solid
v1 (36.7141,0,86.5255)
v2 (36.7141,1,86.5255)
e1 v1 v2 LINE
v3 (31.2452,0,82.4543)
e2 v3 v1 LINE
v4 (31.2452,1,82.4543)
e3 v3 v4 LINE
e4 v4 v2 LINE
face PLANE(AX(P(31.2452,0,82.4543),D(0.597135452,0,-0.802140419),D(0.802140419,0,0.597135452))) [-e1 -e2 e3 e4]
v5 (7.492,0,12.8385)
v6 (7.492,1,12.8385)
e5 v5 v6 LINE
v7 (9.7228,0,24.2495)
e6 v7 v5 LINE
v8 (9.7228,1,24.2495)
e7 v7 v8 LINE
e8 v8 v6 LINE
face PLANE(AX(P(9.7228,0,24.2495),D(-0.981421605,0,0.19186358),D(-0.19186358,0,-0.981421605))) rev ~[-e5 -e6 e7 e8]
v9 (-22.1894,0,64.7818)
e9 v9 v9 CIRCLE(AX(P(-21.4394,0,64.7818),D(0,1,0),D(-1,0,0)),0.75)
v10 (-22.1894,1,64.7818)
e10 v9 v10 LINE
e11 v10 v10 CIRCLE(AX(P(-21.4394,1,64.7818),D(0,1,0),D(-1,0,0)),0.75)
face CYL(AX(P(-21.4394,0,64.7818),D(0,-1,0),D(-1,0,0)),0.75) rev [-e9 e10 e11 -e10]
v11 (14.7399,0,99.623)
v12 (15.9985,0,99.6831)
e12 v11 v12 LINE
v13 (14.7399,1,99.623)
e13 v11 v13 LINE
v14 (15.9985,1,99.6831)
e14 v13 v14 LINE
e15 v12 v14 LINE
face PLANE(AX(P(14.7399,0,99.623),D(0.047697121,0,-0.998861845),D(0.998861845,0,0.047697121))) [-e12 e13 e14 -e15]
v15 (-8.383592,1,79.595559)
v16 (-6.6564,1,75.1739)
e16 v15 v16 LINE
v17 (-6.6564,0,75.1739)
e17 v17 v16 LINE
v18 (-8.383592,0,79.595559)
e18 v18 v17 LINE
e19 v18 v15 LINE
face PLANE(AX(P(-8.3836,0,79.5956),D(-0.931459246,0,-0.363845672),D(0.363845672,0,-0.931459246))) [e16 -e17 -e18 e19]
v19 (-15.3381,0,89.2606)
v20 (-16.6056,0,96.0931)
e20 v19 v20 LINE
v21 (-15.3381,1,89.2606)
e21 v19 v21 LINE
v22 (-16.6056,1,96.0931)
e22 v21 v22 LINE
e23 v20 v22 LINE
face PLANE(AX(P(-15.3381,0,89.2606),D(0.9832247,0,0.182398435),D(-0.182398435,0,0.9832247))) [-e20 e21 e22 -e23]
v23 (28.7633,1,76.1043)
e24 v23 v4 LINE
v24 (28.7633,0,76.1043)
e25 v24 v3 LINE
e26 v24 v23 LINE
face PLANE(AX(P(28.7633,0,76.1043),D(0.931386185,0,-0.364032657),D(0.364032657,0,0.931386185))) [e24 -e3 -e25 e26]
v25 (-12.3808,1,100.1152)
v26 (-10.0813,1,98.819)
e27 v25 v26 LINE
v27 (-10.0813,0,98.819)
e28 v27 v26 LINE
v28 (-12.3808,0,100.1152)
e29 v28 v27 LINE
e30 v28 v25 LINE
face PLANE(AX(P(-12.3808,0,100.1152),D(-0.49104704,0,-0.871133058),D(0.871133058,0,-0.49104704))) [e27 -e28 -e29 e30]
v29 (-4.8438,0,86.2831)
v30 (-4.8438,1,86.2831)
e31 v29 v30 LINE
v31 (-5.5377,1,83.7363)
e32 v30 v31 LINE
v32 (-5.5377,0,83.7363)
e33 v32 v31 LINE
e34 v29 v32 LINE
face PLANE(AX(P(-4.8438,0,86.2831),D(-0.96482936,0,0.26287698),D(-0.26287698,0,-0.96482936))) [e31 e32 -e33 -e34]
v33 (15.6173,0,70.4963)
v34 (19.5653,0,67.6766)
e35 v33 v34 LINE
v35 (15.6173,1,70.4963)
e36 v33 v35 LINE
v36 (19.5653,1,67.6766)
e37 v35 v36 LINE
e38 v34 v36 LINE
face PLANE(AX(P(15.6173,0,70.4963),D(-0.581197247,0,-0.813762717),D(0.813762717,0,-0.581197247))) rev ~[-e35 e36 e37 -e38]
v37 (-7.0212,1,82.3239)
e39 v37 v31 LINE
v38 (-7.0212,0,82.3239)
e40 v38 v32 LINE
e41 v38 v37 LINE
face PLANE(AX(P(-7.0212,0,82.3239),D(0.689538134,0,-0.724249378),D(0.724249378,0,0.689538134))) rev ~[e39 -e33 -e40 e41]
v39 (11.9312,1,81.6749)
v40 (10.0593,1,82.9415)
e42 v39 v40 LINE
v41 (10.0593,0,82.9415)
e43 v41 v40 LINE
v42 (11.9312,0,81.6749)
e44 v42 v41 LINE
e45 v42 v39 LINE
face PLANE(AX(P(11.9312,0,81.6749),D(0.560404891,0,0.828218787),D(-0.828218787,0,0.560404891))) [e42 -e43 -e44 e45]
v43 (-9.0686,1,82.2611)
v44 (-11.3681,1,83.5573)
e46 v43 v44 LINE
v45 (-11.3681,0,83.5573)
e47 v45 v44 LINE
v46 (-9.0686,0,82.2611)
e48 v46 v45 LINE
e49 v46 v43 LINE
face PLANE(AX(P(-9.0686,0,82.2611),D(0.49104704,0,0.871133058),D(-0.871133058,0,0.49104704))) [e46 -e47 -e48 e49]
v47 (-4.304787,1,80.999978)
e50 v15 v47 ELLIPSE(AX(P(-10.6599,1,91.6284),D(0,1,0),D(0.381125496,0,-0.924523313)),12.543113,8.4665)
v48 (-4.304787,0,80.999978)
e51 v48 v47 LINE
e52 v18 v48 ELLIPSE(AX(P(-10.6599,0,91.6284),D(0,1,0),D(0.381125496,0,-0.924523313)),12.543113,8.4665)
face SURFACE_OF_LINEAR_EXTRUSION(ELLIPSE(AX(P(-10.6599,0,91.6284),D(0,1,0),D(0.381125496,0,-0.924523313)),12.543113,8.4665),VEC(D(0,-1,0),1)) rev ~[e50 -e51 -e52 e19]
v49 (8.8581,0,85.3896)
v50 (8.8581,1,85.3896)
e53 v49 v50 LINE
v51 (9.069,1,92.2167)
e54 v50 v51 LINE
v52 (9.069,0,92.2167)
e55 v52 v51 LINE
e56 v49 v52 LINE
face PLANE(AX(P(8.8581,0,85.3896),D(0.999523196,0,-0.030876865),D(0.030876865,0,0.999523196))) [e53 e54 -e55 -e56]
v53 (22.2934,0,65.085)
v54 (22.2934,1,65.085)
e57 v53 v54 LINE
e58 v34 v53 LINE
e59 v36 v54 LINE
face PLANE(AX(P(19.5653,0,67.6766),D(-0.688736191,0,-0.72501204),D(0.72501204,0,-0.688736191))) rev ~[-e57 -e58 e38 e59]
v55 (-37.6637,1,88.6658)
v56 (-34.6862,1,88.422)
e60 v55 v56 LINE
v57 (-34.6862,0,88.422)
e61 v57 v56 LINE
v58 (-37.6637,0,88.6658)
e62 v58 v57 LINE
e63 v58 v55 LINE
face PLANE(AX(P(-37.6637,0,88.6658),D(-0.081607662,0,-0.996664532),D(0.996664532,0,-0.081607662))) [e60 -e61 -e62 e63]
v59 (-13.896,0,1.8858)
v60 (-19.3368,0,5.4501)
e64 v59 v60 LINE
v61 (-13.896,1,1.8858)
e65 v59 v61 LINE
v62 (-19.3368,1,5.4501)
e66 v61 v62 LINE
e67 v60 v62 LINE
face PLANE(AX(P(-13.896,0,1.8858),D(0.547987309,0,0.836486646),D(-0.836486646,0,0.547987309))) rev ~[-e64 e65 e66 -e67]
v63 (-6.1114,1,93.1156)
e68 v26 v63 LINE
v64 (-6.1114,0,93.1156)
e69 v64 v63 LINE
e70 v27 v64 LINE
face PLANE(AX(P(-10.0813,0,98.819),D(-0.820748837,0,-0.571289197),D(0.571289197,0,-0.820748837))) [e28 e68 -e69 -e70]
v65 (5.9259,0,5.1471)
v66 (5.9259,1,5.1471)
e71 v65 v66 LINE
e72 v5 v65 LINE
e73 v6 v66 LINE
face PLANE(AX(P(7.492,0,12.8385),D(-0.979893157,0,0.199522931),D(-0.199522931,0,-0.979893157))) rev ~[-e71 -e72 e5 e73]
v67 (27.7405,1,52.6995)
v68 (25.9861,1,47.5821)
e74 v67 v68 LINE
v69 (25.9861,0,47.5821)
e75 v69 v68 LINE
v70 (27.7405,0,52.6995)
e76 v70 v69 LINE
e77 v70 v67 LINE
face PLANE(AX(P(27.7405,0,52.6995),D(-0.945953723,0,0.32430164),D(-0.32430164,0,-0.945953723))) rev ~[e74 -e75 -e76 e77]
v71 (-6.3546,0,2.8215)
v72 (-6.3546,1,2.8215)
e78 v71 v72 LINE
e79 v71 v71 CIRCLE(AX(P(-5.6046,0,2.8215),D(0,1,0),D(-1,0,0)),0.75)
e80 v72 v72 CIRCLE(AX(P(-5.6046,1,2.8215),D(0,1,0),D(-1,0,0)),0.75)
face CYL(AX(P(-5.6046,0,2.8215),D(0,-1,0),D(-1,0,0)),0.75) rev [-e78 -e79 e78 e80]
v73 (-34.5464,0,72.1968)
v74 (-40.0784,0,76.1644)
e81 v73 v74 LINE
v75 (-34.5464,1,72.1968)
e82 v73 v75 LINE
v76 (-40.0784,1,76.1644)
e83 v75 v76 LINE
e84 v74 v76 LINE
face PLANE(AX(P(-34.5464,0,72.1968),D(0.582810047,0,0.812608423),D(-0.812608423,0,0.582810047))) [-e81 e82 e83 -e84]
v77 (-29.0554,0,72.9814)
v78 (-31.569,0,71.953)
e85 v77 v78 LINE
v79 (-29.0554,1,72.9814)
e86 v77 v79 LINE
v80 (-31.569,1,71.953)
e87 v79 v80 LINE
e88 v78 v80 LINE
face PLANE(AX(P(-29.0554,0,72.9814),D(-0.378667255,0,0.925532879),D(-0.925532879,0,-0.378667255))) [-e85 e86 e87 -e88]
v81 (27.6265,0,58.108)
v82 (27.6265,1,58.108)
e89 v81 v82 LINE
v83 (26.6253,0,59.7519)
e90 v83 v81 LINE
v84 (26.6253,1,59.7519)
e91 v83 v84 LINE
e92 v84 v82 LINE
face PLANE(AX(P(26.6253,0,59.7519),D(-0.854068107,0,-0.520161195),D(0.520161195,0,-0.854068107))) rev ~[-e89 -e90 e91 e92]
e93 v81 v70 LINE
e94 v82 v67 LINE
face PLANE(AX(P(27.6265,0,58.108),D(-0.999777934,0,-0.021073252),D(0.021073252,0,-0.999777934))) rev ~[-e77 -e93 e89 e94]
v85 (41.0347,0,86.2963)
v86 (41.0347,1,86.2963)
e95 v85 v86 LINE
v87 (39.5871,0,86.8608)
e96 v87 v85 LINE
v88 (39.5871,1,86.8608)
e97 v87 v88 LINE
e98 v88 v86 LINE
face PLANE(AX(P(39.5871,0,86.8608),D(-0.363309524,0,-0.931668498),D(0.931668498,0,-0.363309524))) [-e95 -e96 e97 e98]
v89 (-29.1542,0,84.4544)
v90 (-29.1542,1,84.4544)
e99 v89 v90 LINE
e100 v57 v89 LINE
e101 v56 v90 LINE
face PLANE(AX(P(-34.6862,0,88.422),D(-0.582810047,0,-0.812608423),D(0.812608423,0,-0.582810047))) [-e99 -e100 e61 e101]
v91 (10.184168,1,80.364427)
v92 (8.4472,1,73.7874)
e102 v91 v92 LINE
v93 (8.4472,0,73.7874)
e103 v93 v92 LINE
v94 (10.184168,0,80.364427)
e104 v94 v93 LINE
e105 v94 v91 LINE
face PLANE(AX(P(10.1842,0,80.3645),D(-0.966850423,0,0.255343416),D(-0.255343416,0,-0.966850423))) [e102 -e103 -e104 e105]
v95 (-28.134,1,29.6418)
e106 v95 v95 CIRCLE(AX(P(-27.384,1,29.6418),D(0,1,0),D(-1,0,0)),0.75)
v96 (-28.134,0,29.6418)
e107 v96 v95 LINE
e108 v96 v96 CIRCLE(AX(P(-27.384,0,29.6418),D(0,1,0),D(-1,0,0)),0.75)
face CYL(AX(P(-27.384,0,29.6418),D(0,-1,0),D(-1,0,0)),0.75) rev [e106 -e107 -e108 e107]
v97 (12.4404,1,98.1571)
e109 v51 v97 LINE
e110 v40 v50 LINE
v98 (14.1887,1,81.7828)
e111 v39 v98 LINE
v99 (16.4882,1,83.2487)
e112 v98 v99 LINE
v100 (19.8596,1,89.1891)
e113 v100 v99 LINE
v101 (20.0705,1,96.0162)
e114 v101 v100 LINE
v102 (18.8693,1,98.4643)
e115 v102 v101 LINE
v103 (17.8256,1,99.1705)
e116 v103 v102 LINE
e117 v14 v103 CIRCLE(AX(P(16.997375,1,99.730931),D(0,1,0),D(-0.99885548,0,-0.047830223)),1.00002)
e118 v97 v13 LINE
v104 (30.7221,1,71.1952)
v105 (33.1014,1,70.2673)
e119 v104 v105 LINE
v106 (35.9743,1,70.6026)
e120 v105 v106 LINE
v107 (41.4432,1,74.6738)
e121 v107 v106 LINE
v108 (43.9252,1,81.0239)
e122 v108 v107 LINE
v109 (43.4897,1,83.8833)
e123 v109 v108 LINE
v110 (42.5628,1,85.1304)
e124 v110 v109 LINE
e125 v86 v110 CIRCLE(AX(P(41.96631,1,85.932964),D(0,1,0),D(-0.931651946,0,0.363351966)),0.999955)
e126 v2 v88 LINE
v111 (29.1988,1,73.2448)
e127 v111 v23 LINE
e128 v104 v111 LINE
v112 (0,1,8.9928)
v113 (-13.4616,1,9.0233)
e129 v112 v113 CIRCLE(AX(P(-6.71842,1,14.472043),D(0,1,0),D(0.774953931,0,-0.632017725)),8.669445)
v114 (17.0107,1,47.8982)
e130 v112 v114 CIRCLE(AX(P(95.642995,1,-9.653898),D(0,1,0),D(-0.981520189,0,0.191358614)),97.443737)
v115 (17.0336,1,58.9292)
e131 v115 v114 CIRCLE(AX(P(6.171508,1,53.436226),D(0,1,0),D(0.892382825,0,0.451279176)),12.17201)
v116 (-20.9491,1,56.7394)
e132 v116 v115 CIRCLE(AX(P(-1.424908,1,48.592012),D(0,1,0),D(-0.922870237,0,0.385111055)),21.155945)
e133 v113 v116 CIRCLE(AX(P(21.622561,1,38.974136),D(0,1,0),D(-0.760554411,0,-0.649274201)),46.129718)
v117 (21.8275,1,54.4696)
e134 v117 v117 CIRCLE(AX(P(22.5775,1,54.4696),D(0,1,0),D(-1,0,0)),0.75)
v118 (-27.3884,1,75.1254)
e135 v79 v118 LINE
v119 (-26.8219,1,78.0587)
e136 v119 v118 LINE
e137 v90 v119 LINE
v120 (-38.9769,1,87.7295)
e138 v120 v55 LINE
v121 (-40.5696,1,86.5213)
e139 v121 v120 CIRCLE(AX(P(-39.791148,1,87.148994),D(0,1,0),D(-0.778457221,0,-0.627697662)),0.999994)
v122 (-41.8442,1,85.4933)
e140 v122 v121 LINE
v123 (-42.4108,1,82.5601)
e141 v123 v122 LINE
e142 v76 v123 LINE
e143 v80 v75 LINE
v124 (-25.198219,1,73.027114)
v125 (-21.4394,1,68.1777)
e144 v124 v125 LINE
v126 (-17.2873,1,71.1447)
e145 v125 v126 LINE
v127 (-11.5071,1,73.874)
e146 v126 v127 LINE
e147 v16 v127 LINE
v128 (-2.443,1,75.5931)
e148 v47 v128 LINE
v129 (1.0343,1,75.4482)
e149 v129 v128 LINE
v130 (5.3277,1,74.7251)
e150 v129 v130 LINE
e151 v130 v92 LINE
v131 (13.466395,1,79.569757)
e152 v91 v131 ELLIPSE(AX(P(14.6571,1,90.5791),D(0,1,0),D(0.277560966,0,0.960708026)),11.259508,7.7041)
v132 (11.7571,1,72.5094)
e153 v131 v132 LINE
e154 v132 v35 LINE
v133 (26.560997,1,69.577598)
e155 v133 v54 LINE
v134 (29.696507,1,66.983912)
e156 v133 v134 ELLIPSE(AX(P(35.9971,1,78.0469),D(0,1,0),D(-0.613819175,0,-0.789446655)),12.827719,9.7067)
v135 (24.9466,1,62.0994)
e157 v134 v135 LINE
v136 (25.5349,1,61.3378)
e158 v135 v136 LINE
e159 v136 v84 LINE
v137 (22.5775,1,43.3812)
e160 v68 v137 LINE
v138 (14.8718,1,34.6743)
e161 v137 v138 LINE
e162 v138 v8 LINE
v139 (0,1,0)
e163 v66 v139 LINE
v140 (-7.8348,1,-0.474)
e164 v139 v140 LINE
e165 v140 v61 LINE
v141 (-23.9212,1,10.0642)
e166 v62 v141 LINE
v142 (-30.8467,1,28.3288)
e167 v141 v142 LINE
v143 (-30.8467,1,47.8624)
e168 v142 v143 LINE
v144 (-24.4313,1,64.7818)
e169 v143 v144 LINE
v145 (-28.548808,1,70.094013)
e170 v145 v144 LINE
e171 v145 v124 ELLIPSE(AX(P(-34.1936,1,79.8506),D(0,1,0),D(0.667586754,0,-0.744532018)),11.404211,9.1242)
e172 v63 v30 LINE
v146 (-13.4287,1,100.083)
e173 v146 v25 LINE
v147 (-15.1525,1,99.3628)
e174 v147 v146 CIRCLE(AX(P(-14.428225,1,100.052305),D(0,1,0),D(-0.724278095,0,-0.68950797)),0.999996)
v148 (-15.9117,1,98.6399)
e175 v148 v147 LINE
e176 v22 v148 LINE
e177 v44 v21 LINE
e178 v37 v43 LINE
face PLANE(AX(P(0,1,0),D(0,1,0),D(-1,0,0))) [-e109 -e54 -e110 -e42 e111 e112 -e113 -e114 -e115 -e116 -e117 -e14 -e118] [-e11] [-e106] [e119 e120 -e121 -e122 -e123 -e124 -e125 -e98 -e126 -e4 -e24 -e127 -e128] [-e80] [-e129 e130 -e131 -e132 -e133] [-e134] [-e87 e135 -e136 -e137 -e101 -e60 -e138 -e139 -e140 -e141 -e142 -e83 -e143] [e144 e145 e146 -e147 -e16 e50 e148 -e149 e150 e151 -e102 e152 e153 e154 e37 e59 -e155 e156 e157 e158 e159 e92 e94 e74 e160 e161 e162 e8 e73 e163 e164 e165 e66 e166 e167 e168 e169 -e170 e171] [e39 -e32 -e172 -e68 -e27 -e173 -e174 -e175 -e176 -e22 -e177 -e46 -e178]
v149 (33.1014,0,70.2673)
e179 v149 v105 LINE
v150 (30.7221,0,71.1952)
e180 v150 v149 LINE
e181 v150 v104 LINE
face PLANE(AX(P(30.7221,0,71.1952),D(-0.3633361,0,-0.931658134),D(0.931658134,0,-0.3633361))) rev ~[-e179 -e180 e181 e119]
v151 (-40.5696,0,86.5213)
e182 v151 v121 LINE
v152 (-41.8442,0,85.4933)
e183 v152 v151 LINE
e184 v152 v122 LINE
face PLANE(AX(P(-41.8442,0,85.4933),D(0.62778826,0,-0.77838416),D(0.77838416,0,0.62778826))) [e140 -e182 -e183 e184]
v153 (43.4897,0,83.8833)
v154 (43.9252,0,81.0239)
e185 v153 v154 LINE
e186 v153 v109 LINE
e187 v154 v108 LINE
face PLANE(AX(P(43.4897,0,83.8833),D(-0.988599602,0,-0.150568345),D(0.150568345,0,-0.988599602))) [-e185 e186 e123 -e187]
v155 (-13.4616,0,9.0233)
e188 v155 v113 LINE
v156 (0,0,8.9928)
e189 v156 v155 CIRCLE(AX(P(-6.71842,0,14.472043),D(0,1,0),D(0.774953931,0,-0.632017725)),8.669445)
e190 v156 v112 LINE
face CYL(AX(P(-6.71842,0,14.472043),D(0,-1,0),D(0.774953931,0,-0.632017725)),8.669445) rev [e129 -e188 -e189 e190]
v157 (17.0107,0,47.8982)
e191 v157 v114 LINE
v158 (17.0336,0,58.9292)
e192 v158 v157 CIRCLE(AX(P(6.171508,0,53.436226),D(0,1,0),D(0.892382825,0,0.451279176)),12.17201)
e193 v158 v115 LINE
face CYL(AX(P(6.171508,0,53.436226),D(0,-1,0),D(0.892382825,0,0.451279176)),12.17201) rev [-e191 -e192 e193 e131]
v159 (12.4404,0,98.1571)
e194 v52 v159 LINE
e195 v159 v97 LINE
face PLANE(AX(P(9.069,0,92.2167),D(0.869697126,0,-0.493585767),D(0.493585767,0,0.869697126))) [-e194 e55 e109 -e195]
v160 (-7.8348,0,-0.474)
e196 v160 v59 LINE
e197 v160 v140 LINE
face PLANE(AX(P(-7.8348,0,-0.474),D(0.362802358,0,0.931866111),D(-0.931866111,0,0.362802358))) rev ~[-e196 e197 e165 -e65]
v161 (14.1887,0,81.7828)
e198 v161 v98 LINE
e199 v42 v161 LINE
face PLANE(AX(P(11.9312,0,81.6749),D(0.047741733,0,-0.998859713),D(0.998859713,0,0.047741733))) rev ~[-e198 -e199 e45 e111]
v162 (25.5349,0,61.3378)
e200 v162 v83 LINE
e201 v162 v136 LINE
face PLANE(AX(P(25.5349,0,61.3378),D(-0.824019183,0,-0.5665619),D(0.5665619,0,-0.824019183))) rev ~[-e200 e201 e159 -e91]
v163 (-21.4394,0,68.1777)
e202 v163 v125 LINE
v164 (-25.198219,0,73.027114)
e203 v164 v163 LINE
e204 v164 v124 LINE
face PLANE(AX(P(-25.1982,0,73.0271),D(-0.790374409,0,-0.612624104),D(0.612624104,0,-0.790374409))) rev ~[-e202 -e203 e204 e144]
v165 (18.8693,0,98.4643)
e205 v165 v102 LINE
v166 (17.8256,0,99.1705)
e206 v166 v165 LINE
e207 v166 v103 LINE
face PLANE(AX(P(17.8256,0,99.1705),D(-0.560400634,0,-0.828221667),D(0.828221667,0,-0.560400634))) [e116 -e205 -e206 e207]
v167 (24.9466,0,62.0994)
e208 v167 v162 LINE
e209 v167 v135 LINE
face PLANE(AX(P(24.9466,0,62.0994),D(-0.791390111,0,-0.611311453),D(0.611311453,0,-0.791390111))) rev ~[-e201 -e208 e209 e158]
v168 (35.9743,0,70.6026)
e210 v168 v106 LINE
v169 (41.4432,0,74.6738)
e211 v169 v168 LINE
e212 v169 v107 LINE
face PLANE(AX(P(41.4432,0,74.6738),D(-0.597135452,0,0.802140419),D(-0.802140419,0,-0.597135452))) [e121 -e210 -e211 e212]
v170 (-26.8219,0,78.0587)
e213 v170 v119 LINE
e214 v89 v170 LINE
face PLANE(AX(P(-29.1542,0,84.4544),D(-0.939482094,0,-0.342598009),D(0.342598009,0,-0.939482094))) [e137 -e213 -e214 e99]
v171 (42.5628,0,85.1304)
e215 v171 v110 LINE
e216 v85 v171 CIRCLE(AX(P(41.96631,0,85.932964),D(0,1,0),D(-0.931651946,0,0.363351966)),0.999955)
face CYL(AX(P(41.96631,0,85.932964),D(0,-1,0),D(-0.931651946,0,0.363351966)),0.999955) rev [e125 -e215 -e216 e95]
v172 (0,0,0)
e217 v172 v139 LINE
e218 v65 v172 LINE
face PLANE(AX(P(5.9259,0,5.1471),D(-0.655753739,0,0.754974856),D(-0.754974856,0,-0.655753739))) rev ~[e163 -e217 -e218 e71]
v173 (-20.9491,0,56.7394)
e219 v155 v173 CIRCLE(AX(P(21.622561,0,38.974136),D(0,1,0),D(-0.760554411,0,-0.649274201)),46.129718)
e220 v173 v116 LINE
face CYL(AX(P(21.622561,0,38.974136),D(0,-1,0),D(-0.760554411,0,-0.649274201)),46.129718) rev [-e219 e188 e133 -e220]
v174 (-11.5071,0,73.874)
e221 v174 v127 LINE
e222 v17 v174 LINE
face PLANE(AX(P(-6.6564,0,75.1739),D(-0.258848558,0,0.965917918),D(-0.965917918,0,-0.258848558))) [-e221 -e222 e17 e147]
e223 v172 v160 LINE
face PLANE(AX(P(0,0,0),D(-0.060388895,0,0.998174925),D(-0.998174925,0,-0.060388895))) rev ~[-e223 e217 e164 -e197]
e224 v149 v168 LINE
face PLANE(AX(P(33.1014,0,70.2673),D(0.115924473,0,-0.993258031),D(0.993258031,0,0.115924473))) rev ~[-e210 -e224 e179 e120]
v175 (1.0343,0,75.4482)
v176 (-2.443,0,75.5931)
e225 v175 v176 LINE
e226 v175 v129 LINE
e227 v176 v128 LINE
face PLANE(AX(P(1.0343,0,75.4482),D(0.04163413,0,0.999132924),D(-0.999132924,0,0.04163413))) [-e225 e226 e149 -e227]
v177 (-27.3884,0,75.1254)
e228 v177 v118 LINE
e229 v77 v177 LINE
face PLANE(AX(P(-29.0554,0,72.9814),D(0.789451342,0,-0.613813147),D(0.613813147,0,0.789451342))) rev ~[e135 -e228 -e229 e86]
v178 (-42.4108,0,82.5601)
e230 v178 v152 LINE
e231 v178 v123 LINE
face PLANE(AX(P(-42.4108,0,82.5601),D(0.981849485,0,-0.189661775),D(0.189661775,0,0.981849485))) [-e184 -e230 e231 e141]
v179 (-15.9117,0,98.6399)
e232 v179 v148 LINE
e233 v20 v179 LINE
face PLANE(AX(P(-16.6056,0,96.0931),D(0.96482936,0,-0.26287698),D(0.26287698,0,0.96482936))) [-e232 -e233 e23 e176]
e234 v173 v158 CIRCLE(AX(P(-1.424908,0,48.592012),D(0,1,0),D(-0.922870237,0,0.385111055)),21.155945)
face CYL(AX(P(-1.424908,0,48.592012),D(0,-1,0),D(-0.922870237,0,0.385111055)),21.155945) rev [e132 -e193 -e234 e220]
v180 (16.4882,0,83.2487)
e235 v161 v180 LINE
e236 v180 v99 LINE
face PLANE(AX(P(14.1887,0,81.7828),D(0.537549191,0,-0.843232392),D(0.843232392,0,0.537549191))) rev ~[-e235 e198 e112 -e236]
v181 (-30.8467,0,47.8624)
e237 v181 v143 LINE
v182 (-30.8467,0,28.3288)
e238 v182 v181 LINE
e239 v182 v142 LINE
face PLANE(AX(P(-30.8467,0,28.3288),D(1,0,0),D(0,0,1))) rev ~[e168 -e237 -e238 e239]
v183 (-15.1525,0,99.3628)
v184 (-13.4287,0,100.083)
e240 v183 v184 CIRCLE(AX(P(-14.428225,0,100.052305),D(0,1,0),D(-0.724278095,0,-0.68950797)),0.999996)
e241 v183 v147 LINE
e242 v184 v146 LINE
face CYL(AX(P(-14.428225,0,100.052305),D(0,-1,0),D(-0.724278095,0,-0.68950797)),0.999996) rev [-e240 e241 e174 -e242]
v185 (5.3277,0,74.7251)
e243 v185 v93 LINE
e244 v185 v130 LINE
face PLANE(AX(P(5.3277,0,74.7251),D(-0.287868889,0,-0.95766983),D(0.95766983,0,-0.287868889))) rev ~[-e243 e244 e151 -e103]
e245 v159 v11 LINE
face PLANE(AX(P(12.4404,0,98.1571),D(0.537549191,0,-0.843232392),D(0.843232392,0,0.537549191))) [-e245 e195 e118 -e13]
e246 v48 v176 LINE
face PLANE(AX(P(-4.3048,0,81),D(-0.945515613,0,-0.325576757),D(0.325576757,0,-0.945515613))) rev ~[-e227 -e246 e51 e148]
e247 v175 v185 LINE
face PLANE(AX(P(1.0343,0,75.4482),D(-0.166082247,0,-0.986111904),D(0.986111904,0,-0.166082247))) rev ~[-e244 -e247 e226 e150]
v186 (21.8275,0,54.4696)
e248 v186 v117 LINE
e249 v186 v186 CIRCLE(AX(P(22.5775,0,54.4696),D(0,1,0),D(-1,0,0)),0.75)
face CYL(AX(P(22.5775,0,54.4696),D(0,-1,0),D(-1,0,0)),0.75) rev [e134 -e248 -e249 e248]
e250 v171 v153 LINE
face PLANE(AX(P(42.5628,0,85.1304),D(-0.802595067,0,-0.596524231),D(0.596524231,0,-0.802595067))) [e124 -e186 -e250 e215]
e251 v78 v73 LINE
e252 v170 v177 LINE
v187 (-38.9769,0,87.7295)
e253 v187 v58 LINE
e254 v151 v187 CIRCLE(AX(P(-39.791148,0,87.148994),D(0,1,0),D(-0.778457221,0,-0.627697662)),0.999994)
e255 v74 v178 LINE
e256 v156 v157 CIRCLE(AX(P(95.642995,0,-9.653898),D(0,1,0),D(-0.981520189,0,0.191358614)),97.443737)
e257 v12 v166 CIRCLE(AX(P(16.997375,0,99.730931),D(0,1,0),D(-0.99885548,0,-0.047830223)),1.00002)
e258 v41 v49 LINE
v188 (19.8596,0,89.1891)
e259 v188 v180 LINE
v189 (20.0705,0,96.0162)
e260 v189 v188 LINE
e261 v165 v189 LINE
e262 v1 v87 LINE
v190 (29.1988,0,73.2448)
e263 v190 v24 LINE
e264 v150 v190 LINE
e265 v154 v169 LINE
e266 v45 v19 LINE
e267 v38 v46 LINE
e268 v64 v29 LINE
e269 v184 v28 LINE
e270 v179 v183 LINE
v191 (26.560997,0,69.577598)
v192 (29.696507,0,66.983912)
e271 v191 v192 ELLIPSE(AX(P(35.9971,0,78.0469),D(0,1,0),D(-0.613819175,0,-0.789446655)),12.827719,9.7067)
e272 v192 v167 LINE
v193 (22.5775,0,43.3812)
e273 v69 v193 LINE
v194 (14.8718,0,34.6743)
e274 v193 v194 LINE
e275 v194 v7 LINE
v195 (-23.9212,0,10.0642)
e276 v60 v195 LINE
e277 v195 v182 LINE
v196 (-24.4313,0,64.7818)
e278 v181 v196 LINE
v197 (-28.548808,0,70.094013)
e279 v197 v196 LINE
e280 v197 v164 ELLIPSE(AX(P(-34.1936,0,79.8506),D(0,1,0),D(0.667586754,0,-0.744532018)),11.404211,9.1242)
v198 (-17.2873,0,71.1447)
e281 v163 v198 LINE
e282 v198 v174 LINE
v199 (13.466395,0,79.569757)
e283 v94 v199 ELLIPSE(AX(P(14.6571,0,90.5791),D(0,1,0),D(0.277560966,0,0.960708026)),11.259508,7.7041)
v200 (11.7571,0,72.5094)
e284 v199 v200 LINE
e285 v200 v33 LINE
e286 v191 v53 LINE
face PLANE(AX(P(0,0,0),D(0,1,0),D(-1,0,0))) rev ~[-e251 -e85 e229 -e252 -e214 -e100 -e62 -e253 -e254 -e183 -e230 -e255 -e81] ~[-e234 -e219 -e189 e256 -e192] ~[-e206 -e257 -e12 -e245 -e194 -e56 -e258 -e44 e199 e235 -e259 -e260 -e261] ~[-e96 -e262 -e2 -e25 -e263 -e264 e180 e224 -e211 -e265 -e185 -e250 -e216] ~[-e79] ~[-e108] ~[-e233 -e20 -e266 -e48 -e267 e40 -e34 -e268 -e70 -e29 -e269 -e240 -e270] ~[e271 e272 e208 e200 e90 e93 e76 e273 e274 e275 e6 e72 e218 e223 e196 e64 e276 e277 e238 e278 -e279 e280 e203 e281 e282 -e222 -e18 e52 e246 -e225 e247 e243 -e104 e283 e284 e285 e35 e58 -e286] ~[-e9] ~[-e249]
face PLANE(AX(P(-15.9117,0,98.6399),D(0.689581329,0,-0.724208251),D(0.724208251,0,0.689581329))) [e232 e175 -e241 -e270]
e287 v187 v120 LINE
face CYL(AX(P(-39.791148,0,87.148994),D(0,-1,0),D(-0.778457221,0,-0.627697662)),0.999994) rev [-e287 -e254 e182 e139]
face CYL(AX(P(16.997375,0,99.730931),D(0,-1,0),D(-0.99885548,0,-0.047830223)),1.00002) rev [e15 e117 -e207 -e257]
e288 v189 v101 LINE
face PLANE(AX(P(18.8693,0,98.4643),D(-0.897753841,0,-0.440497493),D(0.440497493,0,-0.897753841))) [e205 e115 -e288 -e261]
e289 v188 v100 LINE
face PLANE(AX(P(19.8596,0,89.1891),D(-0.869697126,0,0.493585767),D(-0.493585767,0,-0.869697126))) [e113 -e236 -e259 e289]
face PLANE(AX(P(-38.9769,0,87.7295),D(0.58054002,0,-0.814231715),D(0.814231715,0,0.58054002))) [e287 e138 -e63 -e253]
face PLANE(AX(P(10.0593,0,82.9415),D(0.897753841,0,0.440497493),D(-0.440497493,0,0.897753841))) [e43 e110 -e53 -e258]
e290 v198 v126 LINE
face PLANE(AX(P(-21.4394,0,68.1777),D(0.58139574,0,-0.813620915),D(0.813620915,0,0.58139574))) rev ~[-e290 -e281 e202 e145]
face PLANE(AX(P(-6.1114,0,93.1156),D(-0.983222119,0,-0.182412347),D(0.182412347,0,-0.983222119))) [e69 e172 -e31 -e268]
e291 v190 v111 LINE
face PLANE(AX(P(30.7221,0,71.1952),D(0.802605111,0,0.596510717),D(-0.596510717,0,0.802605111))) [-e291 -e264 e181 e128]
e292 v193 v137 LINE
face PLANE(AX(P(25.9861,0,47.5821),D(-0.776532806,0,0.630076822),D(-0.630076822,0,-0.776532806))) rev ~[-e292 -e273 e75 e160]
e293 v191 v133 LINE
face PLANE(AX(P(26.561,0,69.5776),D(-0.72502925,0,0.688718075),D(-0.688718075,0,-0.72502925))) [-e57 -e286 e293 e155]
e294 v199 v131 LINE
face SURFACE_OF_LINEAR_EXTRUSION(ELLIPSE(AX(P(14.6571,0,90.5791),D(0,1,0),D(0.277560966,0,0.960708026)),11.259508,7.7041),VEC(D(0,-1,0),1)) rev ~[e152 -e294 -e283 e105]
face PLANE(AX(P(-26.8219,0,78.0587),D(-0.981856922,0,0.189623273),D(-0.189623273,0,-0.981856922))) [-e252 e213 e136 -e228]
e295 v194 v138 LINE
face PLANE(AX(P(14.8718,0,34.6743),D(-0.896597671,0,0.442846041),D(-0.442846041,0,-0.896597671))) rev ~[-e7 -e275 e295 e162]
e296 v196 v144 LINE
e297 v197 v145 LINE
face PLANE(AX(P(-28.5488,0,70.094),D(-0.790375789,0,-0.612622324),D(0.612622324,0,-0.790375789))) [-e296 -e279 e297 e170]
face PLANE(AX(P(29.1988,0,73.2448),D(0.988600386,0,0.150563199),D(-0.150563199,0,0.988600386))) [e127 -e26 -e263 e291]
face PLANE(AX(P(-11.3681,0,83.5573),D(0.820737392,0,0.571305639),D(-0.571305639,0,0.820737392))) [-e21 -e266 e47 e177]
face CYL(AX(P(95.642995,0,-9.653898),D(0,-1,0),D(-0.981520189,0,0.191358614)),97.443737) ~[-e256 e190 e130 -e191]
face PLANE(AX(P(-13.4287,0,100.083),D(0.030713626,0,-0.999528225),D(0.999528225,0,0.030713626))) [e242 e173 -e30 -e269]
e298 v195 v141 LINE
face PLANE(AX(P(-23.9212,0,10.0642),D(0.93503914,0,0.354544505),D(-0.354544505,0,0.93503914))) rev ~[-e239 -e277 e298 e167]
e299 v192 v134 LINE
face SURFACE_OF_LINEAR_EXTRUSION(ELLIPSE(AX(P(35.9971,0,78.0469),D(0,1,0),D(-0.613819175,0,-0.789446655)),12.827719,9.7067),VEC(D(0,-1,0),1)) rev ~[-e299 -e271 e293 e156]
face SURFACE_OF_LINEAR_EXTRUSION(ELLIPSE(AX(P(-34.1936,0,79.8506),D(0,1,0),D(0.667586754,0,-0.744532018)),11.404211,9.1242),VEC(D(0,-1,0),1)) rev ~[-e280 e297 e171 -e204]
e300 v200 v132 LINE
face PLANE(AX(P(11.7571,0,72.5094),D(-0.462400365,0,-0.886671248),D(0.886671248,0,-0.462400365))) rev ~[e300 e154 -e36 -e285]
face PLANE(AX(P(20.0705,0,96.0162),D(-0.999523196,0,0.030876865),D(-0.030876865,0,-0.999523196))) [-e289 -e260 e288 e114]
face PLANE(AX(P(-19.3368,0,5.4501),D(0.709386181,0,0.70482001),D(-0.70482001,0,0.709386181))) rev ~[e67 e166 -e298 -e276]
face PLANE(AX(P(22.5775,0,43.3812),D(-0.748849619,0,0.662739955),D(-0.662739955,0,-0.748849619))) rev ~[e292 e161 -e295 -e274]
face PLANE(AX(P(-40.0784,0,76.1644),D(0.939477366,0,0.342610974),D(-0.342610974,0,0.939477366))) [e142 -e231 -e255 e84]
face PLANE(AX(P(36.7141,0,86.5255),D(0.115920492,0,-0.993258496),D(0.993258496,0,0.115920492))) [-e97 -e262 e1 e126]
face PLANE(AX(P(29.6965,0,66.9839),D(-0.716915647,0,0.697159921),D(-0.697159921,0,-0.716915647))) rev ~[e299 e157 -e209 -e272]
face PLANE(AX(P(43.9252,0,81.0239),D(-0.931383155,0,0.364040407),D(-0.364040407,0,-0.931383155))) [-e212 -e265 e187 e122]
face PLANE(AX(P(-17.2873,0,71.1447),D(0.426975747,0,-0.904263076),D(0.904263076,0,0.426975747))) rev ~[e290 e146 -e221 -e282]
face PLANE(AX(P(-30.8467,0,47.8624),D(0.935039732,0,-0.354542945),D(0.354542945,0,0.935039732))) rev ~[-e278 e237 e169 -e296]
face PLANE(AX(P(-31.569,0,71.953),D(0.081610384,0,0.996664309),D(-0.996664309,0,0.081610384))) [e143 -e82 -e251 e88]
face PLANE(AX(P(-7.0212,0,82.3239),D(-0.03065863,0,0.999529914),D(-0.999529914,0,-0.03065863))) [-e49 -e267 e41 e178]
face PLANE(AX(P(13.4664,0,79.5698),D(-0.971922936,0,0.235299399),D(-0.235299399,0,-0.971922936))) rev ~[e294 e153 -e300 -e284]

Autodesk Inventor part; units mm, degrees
ref_plane "YZ Plane" through (0, 0, 0) normal (1, 0, 0) x (0, 1, 0)
ref_plane "XZ Plane" through (0, 0, 0) normal (0, 1, 0) x (-1, 0, 0)
ref_plane "XY Plane" through (0, 0, 0) normal (0, 0, 1) x (1, 0, 0)
sketch "Sketch1" plane through (0, 0, 0) normal (0, 1, 0) x (-1, 0, 0)
  line L0 (29.0554, 72.9814) -> (31.569, 71.953)
  line L1 (26.8219, 78.0587) -> (27.3884, 75.1254)
  line L2 (-19.8596, 89.1891) -> (-16.4882, 83.2487)
  line L3 (-14.1887, 81.7828) -> (-16.4882, 83.2487)
  line L4 (-11.9312, 81.6749) -> (-14.1887, 81.7828)
  line L5 (-10.0593, 82.9415) -> (-8.8581, 85.3896)
  line L6 (-11.9312, 81.6749) -> (-10.0593, 82.9415)
  line L7 (-8.8581, 85.3896) -> (-9.069, 92.2167)
  line L8 (-41.4432, 74.6738) -> (-35.9743, 70.6026)
  line L9 (-33.1014, 70.2673) -> (-35.9743, 70.6026)
  line L10 (-29.1988, 73.2448) -> (-28.7633, 76.1043)
  line L11 (-30.7221, 71.1952) -> (-33.1014, 70.2673)
  line L12 (-30.7221, 71.1952) -> (-29.1988, 73.2448)
  line L13 (-7.492, 12.8385) -> (-5.9259, 5.1471)
  line L14 (-9.7228, 24.2495) -> (-7.492, 12.8385)
  line L15 (-14.8718, 34.6743) -> (-9.7228, 24.2495)
  arc A0 (0, 8.9928) -> (-17.0107, 47.8982) centre (-95.643, -9.6539) ccw
  line L16 (-22.5775, 43.3812) -> (-14.8718, 34.6743)
  line L17 (31.569, 71.953) -> (34.5464, 72.1968)
  line L18 (29.1542, 84.4544) -> (26.8219, 78.0587)
  line L19 (34.5464, 72.1968) -> (40.0784, 76.1644)
  ellipse E0 centre (34.1936, 79.8506) end of major axis (26.5803, 71.3598) minor radius 9.1242 (28.5488, 70.094) -> (25.1982, 73.0271) ccw
  line L20 (40.0784, 76.1644) -> (42.4108, 82.5601)
  line L21 (34.6862, 88.422) -> (29.1542, 84.4544)
  line L22 (37.6637, 88.6658) -> (34.6862, 88.422)
  line L23 (42.4108, 82.5601) -> (41.8442, 85.4933)
  line L24 (38.9769, 87.7295) -> (37.6637, 88.6658)
  line L25 (41.8442, 85.4933) -> (40.5696, 86.5213)
  line L26 (9.0686, 82.2611) -> (11.3681, 83.5573)
  line L27 (4.8438, 86.2831) -> (5.5377, 83.7363)
  line L28 (12.3808, 100.1152) -> (10.0813, 98.819)
  line L29 (10.0813, 98.819) -> (6.1114, 93.1156)
  line L30 (13.4287, 100.083) -> (12.3808, 100.1152)
  line L31 (15.9117, 98.6399) -> (15.1525, 99.3628)
  line L32 (16.6056, 96.0931) -> (15.9117, 98.6399)
  line L33 (6.1114, 93.1156) -> (4.8438, 86.2831)
  ellipse E1 centre (10.6599, 91.6284) end of major axis (5.8794, 80.032) minor radius 8.4665 (8.3836, 79.5956) -> (4.3048, 81) ccw
  line L34 (15.3381, 89.2606) -> (16.6056, 96.0931)
  line L35 (11.3681, 83.5573) -> (15.3381, 89.2606)
  line L36 (6.6564, 75.1739) -> (11.5071, 73.874)
  line L37 (17.2873, 71.1447) -> (11.5071, 73.874)
  line L38 (21.4394, 68.1777) -> (17.2873, 71.1447)
  line L39 (21.4394, 68.1777) -> (17.2873, 71.1447)
  line L40 (25.1982, 73.0271) -> (21.4394, 68.1777)
  line L41 (29.0554, 72.9814) -> (27.3884, 75.1254)
  line L42 (28.5488, 70.094) -> (24.4313, 64.7818)
  line L43 (30.8467, 47.8624) -> (24.4313, 64.7818)
  line L44 (24.4313, 64.7818) -> (30.8467, 47.8624)
  line L45 (-43.9252, 81.0239) -> (-41.4432, 74.6738)
  line L46 (-28.7633, 76.1043) -> (-31.2452, 82.4543)
  ellipse E2 centre (-35.9971, 78.0469) end of major axis (-28.1232, 67.9201) minor radius 9.7067 (-26.561, 69.5776) -> (-29.6965, 66.9839) ccw
  line L47 (-43.4897, 83.8833) -> (-43.9252, 81.0239)
  line L48 (-31.2452, 82.4543) -> (-36.7141, 86.5255)
  line L49 (-42.5628, 85.1304) -> (-43.4897, 83.8833)
  line L50 (-36.7141, 86.5255) -> (-39.5871, 86.8608)
  line L51 (-39.5871, 86.8608) -> (-41.0347, 86.2963)
  ellipse E3 centre (-14.6571, 90.5791) end of major axis (-17.7823, 101.3962) minor radius 7.7041 (-10.1842, 80.3645) -> (-13.4664, 79.5698) ccw
  line L52 (-20.0705, 96.0162) -> (-19.8596, 89.1891)
  line L53 (-20.0705, 96.0162) -> (-19.8596, 89.1891)
  line L54 (-9.069, 92.2167) -> (-12.4404, 98.1571)
  line L55 (-12.4404, 98.1571) -> (-14.7399, 99.623)
  line L56 (-18.8693, 98.4643) -> (-20.0705, 96.0162)
  line L57 (-14.7399, 99.623) -> (-15.9985, 99.6831)
  line L58 (-17.8256, 99.1705) -> (-18.8693, 98.4643)
  line L59 (-26.561, 69.5776) -> (-22.2934, 65.085)
  line L60 (-19.5653, 67.6766) -> (-22.2934, 65.085)
  line L61 (-22.2934, 65.085) -> (-19.5653, 67.6766)
  line L62 (7.0212, 82.3239) -> (9.0686, 82.2611)
  line L63 (-1.0343, 75.4482) -> (2.443, 75.5931)
  arc A1 (20.9491, 56.7394) -> (-17.0336, 58.9292) centre (1.4249, 48.592) ccw
  line L64 (-1.0343, 75.4482) -> (-5.3277, 74.7251)
  line L65 (-5.3277, 74.7251) -> (-8.4472, 73.7874)
  line L66 (-10.1842, 80.3645) -> (-8.4472, 73.7874)
  line L67 (-11.7571, 72.5094) -> (-15.6173, 70.4963)
  line L68 (-13.4664, 79.5698) -> (-11.7571, 72.5094)
  line L69 (-15.6173, 70.4963) -> (-19.5653, 67.6766)
  line L70 (-5.9259, 5.1471) -> (0, 0)
  arc A2 (0, 8.9928) -> (13.4616, 9.0233) centre (6.7184, 14.472) ccw
  line L71 (0, 0) -> (7.8348, -0.474)
  line L72 (7.8348, -0.474) -> (13.896, 1.8858)
  arc A3 (13.4616, 9.0233) -> (20.9491, 56.7394) centre (-21.6227, 38.9742) ccw
  line L73 (30.8467, 28.3288) -> (30.8467, 47.8624)
  line L74 (23.9212, 10.0642) -> (30.8467, 28.3288)
  line L75 (19.3368, 5.4501) -> (23.9212, 10.0642)
  line L76 (13.896, 1.8858) -> (19.3368, 5.4501)
  line L77 (7.0212, 82.3239) -> (5.5377, 83.7363)
  line L78 (8.3836, 79.5956) -> (6.6564, 75.1739)
  line L79 (4.3048, 81) -> (2.443, 75.5931)
  line L80 (-29.6965, 66.9839) -> (-24.9466, 62.0994)
  line L81 (-24.9466, 62.0994) -> (-25.5349, 61.3378)
  line L82 (-25.5349, 61.3378) -> (-26.6253, 59.7519)
  line L83 (-26.6253, 59.7519) -> (-27.6265, 58.108)
  line L84 (-27.6265, 58.108) -> (-27.7405, 52.6995)
  line L85 (-27.7405, 52.6995) -> (-25.9861, 47.5821)
  line L86 (-25.9861, 47.5821) -> (-22.5775, 43.3812)
  circle A4 centre (-22.5775, 54.4696) radius 0.75
  arc A5 (-17.0336, 58.9292) -> (-17.0107, 47.8982) centre (-6.1714, 53.4362) ccw
  arc A6 (-41.0347, 86.2963) -> (-42.5628, 85.1304) centre (-41.9663, 85.933) ccw
  arc A7 (-15.9985, 99.6831) -> (-17.8256, 99.1705) centre (-16.9974, 99.7309) ccw
  arc A8 (15.1525, 99.3628) -> (13.4287, 100.083) centre (14.4282, 100.0523) ccw
  arc A9 (40.5696, 86.5213) -> (38.9769, 87.7295) centre (39.7912, 87.149) ccw
  circle A10 centre (5.6046, 2.8215) radius 0.75
  circle A11 centre (27.384, 29.6418) radius 0.75
  circle A12 centre (21.4394, 64.7818) radius 0.75
  point P0 (0, 0)
  point P1 (0, 0)
  point P2 (4.1459, 1.3104)
  dimension "d0" = 1.5
  dimension "d1" = 2
  dimension "d2" = 2
  dimension "d3" = 2
  dimension "d4" = 2
  dimension "d5" = 1.5
  dimension "d6" = 1.5
  dimension "d7" = 1.5
extrude "Extrusion1" add sketch "Sketch1" along normal blind 1
properties part number "pata-carli"
